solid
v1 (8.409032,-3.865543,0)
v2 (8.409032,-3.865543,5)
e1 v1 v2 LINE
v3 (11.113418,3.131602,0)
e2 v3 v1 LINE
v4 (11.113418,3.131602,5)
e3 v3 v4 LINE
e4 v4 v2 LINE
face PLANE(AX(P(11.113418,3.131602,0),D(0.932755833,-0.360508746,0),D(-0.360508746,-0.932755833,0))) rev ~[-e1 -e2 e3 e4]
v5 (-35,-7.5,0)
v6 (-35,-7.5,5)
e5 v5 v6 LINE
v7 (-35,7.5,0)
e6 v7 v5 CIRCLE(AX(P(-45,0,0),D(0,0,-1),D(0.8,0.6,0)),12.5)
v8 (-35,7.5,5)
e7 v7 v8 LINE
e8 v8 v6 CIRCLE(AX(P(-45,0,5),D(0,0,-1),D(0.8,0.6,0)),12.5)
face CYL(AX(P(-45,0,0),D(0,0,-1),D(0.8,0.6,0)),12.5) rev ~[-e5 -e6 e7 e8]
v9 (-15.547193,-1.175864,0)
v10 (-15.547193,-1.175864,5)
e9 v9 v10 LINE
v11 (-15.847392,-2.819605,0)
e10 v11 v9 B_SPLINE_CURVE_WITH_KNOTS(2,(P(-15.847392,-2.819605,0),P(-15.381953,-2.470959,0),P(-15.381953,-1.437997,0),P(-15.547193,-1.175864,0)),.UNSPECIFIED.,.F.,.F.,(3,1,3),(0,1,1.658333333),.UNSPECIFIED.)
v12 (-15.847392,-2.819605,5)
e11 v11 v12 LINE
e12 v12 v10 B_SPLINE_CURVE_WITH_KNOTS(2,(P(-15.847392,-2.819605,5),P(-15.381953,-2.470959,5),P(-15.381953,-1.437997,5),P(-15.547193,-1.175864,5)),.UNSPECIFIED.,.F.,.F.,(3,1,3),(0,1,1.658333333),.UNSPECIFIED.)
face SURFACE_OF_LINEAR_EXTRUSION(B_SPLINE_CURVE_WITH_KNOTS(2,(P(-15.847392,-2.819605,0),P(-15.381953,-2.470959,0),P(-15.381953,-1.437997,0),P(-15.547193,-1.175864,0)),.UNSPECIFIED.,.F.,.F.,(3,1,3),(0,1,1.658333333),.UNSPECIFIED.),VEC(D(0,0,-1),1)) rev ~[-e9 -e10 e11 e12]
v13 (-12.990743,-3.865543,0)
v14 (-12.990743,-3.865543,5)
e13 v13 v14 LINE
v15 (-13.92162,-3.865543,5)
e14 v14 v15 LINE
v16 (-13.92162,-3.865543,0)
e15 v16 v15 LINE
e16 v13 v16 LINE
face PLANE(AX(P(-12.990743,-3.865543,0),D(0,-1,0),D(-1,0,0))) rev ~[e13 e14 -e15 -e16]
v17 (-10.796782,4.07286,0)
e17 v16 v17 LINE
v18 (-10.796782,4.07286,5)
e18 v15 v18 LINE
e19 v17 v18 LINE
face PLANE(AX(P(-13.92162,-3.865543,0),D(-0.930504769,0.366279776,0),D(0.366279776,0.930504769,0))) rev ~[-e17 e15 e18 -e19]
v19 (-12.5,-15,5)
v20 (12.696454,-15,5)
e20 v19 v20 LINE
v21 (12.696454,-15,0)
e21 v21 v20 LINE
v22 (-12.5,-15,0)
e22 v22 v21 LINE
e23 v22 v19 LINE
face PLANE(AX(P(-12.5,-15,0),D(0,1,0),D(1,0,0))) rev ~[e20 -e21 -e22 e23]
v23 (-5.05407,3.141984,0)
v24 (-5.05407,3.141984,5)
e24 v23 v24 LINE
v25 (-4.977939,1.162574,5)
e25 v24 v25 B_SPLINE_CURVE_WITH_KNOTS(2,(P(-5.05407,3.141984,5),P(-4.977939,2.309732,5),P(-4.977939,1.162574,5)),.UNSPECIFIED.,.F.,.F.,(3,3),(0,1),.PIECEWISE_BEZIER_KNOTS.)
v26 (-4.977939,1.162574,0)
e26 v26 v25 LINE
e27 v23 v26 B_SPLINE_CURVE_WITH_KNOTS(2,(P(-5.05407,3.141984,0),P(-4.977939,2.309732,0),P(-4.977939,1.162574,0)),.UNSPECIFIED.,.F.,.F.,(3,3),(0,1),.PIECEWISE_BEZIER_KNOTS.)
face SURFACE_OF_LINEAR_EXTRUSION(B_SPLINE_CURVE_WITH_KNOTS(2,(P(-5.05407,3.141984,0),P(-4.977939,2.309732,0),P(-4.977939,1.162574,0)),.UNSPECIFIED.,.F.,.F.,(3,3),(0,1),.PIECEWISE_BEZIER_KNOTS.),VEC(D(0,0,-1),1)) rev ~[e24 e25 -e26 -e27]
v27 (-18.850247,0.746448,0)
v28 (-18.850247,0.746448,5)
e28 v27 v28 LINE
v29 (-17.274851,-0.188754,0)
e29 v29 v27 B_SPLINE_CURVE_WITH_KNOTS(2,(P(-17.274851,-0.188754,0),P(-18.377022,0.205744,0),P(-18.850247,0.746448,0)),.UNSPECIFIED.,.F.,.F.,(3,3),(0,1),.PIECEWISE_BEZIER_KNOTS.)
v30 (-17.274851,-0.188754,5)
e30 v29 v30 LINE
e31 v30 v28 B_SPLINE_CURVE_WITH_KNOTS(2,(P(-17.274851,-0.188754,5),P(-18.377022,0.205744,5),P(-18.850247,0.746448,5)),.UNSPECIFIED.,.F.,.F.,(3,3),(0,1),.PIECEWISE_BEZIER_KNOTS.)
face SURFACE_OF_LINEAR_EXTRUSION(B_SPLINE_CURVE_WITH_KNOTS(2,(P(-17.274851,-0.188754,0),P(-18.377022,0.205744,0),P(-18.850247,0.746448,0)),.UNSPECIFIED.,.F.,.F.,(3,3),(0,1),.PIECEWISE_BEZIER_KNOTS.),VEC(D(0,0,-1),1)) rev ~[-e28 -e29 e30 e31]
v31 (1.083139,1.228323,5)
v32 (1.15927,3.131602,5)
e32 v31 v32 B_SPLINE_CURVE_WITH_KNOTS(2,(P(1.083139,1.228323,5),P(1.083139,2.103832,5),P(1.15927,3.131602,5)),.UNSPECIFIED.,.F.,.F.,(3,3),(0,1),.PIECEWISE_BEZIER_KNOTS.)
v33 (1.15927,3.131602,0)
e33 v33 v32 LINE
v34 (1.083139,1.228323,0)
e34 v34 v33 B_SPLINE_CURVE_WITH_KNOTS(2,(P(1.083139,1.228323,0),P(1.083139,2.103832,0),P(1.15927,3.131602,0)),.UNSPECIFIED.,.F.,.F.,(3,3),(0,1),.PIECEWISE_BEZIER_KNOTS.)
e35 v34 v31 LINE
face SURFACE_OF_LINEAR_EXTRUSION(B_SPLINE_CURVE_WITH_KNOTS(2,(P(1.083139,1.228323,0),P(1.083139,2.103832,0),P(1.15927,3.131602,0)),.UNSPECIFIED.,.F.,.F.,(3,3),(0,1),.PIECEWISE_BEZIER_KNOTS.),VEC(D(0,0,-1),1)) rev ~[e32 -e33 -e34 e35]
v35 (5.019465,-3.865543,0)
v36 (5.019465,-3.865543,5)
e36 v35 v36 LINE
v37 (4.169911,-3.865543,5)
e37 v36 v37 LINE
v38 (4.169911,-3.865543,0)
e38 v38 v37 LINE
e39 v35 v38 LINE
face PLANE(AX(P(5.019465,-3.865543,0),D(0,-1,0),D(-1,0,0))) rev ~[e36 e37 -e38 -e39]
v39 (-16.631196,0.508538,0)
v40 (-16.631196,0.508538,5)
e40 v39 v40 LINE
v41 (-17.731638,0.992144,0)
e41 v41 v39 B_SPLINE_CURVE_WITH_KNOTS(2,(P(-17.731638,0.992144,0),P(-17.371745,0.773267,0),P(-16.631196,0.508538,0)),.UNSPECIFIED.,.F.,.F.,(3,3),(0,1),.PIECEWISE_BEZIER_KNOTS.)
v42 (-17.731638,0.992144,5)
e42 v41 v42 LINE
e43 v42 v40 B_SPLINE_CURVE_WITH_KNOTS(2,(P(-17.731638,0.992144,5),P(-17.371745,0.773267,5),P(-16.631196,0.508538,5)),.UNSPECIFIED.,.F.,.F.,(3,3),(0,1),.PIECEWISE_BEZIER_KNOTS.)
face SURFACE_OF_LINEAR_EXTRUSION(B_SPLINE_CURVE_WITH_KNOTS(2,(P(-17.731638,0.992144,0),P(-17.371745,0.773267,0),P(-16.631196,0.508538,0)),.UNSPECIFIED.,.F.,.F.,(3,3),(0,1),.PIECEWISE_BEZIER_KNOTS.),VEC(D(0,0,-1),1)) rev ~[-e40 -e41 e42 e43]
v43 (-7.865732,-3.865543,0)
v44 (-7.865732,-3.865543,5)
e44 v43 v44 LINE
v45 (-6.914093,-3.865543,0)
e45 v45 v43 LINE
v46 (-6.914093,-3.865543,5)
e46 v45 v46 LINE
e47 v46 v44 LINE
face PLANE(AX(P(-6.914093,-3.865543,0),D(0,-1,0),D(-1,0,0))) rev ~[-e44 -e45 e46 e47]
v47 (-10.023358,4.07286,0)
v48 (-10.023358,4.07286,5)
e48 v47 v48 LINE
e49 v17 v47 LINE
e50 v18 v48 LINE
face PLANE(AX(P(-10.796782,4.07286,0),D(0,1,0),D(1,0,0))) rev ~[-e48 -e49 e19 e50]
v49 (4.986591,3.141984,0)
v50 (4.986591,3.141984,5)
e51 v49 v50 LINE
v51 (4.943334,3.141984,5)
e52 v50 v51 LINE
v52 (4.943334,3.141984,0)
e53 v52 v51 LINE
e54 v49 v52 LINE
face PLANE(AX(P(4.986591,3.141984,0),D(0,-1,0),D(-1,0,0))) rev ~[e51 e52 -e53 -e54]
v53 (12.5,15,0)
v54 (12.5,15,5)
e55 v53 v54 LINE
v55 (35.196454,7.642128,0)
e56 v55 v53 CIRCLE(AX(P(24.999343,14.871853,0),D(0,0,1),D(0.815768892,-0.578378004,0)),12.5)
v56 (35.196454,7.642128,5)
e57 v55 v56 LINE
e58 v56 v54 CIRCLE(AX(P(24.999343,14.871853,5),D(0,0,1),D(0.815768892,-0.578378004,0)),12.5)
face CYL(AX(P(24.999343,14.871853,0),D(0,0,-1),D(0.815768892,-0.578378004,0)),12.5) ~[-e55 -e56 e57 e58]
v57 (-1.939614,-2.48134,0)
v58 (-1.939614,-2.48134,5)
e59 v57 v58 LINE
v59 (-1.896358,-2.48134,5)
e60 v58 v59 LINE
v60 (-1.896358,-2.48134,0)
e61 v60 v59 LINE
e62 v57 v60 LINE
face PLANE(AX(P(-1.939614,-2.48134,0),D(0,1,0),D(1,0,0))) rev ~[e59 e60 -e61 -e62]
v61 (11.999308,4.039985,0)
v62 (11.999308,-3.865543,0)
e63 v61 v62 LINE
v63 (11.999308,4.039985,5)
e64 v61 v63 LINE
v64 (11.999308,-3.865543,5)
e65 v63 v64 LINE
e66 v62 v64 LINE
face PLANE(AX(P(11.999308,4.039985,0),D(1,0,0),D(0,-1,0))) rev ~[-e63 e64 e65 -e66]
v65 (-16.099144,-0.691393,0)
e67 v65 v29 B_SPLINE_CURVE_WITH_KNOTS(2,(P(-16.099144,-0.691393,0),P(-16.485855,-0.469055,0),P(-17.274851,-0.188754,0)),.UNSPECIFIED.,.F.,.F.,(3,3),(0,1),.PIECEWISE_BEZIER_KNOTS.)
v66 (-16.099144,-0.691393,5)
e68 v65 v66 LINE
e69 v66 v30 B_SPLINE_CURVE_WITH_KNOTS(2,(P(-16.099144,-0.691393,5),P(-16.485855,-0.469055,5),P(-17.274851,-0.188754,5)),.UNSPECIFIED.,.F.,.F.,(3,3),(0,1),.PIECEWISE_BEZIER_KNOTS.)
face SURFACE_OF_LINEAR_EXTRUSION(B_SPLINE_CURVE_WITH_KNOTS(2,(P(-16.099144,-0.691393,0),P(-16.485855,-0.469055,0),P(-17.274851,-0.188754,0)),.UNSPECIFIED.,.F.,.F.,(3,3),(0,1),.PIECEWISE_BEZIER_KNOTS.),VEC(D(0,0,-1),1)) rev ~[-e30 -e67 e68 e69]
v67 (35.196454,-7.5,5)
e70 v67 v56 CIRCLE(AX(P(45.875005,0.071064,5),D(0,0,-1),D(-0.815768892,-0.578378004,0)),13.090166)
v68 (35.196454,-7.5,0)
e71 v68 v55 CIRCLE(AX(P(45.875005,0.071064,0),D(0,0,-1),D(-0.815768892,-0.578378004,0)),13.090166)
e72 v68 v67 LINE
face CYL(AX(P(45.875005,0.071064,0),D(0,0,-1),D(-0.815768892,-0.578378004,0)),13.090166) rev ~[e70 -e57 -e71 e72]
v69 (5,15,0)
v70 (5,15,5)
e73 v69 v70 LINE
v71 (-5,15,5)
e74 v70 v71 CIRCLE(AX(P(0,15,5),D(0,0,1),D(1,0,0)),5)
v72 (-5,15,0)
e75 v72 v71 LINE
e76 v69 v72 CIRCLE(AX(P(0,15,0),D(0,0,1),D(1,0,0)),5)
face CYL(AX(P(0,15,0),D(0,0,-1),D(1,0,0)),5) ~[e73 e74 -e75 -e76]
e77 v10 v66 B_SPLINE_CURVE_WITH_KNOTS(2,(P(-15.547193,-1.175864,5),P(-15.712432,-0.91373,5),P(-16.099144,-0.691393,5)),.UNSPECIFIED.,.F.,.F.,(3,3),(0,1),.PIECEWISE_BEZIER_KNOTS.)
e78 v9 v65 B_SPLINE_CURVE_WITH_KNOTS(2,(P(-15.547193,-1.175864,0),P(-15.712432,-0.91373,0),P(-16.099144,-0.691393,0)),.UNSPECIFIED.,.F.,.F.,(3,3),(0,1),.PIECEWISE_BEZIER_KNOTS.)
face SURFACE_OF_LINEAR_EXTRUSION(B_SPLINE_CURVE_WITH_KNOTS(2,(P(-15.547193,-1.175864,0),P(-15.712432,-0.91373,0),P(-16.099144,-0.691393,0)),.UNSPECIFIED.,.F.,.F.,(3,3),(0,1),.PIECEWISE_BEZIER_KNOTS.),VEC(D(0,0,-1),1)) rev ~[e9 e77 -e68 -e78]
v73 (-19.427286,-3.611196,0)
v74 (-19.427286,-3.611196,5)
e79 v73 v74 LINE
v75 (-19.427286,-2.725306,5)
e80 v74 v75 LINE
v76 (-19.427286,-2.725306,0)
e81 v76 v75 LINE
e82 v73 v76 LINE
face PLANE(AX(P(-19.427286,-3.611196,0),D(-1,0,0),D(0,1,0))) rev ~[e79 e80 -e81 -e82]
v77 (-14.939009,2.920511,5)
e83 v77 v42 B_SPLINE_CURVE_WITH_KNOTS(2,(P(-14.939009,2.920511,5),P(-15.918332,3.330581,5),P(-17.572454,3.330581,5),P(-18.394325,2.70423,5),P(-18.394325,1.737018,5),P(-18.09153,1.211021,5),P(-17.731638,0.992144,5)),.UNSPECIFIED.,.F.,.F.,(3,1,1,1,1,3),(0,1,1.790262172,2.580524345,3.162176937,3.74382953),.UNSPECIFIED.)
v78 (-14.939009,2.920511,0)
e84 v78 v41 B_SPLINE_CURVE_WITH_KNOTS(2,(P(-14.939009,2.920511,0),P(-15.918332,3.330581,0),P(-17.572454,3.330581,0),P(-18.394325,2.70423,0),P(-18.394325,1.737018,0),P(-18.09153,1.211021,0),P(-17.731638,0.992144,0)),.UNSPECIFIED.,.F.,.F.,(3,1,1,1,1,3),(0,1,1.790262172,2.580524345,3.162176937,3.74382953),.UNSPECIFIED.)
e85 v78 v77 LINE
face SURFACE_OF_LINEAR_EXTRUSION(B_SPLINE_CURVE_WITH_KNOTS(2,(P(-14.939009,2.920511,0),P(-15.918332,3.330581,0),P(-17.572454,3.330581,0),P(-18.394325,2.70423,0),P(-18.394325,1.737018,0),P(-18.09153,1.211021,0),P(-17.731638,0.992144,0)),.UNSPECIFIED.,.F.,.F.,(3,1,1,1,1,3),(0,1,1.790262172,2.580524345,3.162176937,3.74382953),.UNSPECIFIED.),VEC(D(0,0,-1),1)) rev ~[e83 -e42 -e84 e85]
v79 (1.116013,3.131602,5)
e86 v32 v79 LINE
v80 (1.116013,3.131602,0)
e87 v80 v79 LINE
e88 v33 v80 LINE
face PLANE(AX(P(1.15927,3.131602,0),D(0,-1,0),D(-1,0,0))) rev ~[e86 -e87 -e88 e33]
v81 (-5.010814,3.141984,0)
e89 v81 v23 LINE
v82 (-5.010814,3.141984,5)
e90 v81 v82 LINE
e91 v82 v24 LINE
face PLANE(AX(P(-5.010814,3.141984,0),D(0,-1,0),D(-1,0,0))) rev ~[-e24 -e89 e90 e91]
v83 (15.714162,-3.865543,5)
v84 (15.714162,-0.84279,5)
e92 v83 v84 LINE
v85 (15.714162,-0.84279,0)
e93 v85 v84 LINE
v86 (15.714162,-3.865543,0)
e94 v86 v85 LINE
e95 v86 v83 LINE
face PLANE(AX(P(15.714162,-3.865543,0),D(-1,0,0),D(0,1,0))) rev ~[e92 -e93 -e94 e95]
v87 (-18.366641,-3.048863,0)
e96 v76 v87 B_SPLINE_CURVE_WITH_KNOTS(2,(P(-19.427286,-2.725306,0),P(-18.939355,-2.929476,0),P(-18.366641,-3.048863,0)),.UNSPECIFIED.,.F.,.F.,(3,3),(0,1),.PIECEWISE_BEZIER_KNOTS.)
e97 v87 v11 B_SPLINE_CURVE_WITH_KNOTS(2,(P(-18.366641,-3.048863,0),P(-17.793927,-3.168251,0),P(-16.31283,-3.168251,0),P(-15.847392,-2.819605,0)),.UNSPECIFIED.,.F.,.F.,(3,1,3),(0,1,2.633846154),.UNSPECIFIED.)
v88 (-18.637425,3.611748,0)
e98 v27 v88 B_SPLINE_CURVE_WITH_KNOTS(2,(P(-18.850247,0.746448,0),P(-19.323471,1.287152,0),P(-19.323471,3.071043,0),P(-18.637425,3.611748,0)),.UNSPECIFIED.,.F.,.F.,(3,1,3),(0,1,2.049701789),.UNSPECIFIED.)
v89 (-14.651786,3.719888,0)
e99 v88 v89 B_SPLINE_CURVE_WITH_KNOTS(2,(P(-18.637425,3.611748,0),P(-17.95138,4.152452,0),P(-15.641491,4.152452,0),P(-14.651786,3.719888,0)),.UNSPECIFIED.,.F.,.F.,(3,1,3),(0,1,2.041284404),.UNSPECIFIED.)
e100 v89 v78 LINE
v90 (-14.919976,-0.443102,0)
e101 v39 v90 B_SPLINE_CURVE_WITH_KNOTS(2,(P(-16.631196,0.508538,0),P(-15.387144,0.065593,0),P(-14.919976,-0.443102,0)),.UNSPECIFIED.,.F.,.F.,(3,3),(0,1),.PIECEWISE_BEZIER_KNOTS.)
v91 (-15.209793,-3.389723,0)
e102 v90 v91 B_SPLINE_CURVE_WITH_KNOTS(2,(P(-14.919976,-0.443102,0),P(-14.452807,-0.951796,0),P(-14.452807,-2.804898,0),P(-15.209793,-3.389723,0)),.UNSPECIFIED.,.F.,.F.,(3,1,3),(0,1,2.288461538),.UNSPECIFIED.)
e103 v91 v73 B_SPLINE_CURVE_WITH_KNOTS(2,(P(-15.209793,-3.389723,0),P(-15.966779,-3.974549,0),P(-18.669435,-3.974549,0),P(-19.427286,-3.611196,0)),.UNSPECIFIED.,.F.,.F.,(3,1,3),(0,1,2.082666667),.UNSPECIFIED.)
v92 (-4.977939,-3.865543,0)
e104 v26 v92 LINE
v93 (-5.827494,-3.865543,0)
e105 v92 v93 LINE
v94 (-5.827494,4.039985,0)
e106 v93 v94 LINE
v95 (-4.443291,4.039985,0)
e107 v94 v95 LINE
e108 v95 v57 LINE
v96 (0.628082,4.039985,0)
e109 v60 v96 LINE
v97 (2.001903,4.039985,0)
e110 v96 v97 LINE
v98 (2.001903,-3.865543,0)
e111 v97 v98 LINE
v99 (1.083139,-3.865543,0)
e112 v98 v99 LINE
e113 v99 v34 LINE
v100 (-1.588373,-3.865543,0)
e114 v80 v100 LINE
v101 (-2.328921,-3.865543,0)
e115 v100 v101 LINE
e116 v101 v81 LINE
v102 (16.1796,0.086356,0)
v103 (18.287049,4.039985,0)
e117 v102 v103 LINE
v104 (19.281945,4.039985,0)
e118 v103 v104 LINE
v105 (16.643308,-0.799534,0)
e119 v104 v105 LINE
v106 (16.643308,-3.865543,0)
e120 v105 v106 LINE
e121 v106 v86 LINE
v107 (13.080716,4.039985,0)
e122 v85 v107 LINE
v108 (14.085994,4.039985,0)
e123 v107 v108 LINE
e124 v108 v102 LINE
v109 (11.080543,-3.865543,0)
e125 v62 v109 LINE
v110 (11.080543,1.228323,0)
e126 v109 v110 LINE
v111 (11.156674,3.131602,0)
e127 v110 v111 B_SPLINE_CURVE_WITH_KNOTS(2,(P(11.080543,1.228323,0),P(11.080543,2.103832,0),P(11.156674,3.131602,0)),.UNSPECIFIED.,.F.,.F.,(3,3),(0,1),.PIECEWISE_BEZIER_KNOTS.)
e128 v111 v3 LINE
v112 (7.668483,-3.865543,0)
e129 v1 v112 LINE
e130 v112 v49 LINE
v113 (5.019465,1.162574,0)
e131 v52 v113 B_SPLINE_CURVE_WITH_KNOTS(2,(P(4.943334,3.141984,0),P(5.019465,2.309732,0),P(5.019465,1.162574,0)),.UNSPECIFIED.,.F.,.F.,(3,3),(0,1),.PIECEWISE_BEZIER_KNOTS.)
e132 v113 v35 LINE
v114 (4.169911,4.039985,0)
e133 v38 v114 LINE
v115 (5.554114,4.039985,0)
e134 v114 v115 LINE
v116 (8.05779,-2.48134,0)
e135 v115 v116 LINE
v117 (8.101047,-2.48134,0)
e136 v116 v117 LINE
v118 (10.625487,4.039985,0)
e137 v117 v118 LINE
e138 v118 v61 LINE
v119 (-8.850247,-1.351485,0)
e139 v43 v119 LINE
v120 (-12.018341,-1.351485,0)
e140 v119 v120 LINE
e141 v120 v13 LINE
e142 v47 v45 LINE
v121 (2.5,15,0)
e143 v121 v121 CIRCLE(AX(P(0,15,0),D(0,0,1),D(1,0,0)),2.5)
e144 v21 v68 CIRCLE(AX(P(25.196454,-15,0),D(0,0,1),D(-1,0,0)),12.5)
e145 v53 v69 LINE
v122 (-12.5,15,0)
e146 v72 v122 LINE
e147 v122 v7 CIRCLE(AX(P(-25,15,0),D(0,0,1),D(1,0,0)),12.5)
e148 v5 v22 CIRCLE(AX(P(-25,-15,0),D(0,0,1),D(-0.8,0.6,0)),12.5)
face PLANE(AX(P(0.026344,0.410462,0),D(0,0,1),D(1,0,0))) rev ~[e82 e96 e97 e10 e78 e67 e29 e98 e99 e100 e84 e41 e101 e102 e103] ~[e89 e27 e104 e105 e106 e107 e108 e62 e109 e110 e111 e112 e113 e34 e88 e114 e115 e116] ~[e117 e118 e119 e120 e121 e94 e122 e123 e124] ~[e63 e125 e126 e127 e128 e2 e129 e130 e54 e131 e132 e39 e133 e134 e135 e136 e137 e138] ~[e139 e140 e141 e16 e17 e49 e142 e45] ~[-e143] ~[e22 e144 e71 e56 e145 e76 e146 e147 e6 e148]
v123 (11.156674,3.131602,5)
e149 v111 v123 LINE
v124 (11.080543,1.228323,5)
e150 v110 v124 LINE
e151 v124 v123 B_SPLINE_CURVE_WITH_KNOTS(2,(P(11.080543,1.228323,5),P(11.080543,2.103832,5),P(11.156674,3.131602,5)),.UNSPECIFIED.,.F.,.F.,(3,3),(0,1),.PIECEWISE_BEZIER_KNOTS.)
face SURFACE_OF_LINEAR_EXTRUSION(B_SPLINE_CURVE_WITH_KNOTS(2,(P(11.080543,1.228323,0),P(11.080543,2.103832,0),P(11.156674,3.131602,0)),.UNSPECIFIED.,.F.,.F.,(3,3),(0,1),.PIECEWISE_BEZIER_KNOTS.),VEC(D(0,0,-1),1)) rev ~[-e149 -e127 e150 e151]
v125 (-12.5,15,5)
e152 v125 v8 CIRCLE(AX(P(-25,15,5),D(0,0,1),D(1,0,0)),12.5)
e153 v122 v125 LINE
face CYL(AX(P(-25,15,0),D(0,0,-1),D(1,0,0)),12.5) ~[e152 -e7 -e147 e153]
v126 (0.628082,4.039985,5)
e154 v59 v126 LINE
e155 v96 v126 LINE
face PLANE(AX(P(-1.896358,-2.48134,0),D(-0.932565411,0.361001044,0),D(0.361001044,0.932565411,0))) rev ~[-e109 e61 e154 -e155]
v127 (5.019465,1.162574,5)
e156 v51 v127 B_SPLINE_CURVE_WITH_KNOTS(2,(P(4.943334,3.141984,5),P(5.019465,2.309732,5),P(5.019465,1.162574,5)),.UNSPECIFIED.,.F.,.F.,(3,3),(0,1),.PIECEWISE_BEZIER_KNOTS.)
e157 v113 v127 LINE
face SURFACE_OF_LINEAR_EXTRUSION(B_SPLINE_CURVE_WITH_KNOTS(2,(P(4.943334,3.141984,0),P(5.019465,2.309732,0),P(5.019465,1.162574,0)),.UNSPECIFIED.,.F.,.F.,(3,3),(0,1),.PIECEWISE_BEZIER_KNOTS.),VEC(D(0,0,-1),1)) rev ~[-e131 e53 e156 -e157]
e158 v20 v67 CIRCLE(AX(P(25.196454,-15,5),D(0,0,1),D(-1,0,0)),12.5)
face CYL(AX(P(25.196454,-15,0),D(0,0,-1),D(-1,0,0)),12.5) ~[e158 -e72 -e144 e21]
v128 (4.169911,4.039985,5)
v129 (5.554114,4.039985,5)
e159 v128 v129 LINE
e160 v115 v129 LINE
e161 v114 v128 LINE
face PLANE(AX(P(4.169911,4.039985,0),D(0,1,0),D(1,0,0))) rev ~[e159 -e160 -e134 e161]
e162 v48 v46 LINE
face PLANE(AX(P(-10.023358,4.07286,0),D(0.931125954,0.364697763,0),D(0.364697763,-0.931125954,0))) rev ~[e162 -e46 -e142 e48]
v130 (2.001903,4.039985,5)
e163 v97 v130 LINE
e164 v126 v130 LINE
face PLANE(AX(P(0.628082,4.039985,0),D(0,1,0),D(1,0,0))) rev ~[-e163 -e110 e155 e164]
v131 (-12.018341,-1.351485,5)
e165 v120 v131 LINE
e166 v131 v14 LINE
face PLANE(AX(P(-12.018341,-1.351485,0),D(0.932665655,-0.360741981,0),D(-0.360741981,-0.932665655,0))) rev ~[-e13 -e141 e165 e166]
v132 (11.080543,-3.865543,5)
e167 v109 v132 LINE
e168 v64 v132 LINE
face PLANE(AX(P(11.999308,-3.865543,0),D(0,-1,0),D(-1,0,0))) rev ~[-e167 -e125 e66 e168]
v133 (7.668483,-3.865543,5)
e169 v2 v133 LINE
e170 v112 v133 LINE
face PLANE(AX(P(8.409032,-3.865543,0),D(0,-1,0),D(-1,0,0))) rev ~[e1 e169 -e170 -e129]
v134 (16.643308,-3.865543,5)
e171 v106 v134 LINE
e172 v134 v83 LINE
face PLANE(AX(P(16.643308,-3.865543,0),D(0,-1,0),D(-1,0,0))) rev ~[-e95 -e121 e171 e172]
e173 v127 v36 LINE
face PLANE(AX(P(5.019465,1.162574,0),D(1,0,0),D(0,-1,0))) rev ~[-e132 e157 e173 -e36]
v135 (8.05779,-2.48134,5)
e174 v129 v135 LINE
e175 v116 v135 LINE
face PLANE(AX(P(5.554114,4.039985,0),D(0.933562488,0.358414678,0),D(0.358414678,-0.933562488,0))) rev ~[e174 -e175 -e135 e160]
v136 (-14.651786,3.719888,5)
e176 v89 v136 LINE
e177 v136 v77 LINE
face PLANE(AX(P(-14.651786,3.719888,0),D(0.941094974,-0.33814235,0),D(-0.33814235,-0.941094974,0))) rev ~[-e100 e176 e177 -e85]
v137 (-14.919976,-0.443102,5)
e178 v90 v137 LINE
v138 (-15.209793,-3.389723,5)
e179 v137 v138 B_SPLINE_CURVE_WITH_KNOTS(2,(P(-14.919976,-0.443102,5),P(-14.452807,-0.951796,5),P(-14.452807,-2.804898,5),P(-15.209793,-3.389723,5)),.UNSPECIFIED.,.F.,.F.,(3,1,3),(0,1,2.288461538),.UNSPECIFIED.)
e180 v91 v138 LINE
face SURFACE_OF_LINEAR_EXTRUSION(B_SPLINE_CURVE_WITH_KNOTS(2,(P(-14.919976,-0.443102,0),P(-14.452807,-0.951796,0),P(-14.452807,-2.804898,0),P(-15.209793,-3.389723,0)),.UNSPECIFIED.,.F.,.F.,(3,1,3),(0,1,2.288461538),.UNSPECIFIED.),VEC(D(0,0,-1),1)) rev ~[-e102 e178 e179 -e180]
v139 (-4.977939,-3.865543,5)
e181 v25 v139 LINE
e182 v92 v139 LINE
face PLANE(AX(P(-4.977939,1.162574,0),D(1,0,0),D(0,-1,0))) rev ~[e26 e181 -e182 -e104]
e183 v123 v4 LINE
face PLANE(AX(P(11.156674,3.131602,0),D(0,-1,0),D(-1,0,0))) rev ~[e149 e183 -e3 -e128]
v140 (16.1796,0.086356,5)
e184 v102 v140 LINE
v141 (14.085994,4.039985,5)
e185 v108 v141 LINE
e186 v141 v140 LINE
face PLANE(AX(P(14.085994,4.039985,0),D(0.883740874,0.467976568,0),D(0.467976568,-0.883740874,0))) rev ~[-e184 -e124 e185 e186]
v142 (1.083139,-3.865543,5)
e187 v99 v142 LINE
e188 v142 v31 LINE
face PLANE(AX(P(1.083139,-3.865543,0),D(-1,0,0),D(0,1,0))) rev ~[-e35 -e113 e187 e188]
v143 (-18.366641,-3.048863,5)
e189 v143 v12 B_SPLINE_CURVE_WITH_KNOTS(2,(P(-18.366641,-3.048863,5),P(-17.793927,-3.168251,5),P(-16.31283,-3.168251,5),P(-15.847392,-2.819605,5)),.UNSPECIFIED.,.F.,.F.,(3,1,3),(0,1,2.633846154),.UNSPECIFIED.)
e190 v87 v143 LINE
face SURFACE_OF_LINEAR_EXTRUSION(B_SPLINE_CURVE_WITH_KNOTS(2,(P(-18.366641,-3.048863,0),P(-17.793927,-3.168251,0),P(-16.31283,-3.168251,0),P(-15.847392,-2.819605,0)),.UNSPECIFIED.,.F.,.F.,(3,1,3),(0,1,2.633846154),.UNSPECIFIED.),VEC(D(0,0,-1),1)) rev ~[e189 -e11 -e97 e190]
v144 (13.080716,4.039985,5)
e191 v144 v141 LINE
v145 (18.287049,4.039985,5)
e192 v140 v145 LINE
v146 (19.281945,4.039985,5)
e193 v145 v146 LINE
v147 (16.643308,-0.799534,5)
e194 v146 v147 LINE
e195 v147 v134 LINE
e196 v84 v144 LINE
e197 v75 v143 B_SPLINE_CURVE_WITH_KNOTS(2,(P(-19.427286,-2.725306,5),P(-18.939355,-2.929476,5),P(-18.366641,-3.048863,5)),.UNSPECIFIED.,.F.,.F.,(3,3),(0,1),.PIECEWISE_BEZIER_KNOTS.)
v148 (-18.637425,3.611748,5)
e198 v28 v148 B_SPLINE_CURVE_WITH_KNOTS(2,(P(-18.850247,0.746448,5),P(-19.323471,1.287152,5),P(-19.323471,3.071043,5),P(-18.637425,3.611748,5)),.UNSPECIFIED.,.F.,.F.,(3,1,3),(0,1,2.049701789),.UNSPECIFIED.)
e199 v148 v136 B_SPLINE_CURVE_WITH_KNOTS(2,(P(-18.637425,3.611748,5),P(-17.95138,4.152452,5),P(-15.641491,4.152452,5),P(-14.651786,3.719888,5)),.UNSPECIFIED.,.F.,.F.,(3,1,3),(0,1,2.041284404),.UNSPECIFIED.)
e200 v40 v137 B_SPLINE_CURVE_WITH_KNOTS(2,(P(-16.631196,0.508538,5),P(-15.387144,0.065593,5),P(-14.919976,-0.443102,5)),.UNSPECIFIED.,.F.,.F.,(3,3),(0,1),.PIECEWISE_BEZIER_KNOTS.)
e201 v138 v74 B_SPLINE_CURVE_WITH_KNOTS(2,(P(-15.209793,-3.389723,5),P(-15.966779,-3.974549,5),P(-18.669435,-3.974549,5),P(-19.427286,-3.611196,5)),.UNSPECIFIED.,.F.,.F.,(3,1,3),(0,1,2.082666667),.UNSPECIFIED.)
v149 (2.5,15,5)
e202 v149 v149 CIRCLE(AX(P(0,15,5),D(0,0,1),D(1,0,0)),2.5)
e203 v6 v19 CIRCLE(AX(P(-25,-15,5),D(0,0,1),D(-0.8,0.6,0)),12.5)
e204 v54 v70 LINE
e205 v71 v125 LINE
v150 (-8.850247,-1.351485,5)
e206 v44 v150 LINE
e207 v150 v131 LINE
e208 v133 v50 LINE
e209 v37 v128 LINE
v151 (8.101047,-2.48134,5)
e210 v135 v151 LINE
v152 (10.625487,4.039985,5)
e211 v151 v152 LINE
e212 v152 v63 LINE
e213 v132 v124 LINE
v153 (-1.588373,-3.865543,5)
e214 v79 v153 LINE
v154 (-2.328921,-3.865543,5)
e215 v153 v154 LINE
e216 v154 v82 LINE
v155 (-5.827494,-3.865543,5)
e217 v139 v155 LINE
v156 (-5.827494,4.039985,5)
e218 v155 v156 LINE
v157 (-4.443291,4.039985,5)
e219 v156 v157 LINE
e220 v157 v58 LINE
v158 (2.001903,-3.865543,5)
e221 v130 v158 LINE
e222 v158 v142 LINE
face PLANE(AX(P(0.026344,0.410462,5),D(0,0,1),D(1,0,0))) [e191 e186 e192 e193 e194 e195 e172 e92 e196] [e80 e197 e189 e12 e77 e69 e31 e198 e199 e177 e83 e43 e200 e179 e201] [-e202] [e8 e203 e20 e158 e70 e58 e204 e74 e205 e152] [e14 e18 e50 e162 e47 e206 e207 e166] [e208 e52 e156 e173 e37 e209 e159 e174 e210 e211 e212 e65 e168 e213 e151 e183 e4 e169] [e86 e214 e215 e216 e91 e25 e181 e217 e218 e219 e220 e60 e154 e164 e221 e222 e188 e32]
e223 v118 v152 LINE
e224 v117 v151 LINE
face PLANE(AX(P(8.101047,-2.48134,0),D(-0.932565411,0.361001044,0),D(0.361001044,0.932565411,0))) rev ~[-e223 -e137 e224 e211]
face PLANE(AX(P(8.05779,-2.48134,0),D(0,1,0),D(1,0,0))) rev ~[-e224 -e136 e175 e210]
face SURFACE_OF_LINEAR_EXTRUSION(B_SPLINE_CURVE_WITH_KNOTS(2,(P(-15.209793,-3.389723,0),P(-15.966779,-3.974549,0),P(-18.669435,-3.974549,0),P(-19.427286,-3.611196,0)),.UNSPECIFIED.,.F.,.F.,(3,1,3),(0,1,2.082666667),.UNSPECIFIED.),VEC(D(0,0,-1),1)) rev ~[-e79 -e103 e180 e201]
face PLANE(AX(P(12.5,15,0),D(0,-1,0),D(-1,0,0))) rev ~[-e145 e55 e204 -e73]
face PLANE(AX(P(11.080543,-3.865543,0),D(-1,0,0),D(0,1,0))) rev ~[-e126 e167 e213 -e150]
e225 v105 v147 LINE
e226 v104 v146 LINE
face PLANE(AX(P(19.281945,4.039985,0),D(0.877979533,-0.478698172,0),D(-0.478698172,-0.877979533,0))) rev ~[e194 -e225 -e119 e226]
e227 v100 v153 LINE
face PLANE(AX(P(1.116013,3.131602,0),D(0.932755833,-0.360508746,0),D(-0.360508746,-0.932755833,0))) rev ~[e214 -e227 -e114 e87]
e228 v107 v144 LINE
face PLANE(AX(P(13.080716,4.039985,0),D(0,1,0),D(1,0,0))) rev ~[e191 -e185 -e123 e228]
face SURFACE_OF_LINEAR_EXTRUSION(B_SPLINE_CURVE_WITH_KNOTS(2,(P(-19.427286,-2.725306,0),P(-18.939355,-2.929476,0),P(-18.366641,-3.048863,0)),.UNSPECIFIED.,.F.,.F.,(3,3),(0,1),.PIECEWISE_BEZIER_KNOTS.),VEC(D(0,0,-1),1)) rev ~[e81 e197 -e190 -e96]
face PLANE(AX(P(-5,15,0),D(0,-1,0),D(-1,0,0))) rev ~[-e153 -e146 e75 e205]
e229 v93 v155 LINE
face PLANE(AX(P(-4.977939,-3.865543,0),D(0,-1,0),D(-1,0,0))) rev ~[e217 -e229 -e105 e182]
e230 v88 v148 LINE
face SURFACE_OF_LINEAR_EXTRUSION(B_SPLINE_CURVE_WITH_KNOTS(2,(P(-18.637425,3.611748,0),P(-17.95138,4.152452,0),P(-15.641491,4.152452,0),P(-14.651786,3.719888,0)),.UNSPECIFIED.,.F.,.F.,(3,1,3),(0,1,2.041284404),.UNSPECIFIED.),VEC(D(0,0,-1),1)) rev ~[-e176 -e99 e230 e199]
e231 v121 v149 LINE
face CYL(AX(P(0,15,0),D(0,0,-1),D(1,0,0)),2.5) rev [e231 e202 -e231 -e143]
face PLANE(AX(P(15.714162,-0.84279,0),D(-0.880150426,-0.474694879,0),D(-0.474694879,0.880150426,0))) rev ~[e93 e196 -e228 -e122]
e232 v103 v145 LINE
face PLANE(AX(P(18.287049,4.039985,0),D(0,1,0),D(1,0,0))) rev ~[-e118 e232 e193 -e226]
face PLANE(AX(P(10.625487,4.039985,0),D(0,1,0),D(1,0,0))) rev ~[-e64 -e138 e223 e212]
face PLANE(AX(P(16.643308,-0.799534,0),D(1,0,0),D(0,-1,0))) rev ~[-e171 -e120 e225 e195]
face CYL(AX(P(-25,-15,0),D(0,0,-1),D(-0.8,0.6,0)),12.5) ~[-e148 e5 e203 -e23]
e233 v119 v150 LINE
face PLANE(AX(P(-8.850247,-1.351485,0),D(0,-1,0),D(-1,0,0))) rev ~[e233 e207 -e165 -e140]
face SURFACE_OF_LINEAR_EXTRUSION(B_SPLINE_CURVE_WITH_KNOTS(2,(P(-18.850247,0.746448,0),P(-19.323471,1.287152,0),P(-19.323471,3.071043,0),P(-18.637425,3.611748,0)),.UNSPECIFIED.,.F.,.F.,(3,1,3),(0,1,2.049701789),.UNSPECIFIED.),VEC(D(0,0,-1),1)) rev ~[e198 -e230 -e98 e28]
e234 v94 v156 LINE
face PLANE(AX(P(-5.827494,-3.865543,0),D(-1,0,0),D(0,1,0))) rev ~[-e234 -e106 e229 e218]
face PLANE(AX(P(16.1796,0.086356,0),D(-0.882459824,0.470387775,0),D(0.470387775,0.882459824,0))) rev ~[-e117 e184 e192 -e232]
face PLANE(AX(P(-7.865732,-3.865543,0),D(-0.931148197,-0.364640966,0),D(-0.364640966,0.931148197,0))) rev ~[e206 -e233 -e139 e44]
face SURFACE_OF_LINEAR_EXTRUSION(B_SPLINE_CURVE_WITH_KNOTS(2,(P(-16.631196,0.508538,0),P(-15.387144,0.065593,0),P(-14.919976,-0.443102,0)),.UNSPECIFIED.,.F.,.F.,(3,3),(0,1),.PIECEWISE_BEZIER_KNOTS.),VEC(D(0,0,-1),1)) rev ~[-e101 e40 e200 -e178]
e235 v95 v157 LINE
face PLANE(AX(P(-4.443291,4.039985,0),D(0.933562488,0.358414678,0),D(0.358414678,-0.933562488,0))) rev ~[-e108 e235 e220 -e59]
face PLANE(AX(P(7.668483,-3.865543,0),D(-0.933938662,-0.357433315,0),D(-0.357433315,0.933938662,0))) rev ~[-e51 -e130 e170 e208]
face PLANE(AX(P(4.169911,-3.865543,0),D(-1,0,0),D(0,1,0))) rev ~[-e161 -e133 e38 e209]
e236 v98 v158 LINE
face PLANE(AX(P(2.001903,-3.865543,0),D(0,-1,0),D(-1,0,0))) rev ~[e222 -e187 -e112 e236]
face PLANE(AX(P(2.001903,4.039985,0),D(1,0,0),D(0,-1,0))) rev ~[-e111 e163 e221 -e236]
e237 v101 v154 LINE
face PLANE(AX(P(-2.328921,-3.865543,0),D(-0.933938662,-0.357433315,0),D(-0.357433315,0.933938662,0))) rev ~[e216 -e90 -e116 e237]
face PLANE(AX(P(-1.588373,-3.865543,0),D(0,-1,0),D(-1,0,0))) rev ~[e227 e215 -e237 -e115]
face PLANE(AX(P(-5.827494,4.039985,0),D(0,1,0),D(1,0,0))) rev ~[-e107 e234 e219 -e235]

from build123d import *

# Parameters (mm, degrees)
F0_R     = 2.5
F1_DEPTH = 5


with BuildPart() as f1:
    # F0 (on Top) → F1 (new body)
    with BuildSketch(Plane.XY):
        with BuildLine():
            Line((-5, 15), (-12.5, 15))
            ThreePointArc((-12.5, 15), (-28.9528470752, 26.8585412256), (-35, 7.5))
            ThreePointArc((-35, 7.5), (-32.5, 0), (-35, -7.5))
            ThreePointArc((-35, -7.5), (-28.9528470752, -26.8585412256), (-12.5, -15))
            Line((-12.5, -15), (12.6964542654, -15))
            ThreePointArc((12.6964542654, -15), (29.1493013406, -26.8585412256), (35.1964542654, -7.5))
            ThreePointArc((35.1964542654, -7.5), (32.784838444, 0.0710641767), (35.1964542654, 7.6421283534))
            ThreePointArc((35.1964542654, 7.6421283534), (28.8541630659, 26.7626213853), (12.5, 15))
            Line((12.5, 15), (5, 15))
            ThreePointArc((5, 15), (0, 20), (-5, 15))
        make_face()
        with BuildLine():
            add(Edge.make_bspline(
                [(-14.9199757765, -0.4431015054), (-14.4528073363, -0.9517960291), (-14.4528073363, -1.7615546588)],
                knots=[0, 0, 0, 1, 1, 1], degree=2))
            add(Edge.make_bspline(
                [(-14.4528073363, -1.7615546588), (-14.4528073363, -2.8048975085), (-15.2097932347, -3.3897231855)],
                knots=[0, 0, 0, 1, 1, 1], degree=2))
            add(Edge.make_bspline(
                [(-15.2097932347, -3.3897231855), (-15.9667791331, -3.9745488624), (-17.2644692447, -3.9745488624)],
                knots=[0, 0, 0, 1, 1, 1], degree=2))
            add(Edge.make_bspline(
                [(-17.2644692447, -3.9745488624), (-18.6694350722, -3.9745488624), (-19.4272860974, -3.6111956312)],
                knots=[0, 0, 0, 1, 1, 1], degree=2))
            Line((-19.4272860974, -3.6111956312), (-19.4272860974, -2.7253058483))
            add(Edge.make_bspline(
                [(-19.4272860974, -2.7253058483), (-18.9393546155, -2.9294757592), (-18.3666407129, -3.0488632495)],
                knots=[0, 0, 0, 1, 1, 1], degree=2))
            add(Edge.make_bspline(
                [(-18.3666407129, -3.0488632495), (-17.7939268103, -3.1682507397), (-17.2315944286, -3.1682507397)],
                knots=[0, 0, 0, 1, 1, 1], degree=2))
            add(Edge.make_bspline(
                [(-17.2315944286, -3.1682507397), (-16.3128298296, -3.1682507397), (-15.8473916429, -2.8196046631)],
                knots=[0, 0, 0, 1, 1, 1], degree=2))
            add(Edge.make_bspline(
                [(-15.8473916429, -2.8196046631), (-15.3819534562, -2.4709585864), (-15.3819534562, -1.8480673329)],
                knots=[0, 0, 0, 1, 1, 1], degree=2))
            add(Edge.make_bspline(
                [(-15.3819534562, -1.8480673329), (-15.3819534562, -1.4379972576), (-15.5471926637, -1.1758638551)],
                knots=[0, 0, 0, 1, 1, 1], degree=2))
            add(Edge.make_bspline(
                [(-15.5471926637, -1.1758638551), (-15.7124318713, -0.9137304525), (-16.0991435245, -0.6913928801)],
                knots=[0, 0, 0, 1, 1, 1], degree=2))
            add(Edge.make_bspline(
                [(-16.0991435245, -0.6913928801), (-16.4858551778, -0.4690553076), (-17.2748507656, -0.1887542435)],
                knots=[0, 0, 0, 1, 1, 1], degree=2))
            add(Edge.make_bspline(
                [(-17.2748507656, -0.1887542435), (-18.3770222338, 0.2057435504), (-18.8502465611, 0.7464477636)],
                knots=[0, 0, 0, 1, 1, 1], degree=2))
            add(Edge.make_bspline(
                [(-18.8502465611, 0.7464477636), (-19.3234708885, 1.2871519767), (-19.3234708885, 2.1574694783)],
                knots=[0, 0, 0, 1, 1, 1], degree=2))
            add(Edge.make_bspline(
                [(-19.3234708885, 2.1574694783), (-19.3234708885, 3.0710433168), (-18.6374253828, 3.61174753)],
                knots=[0, 0, 0, 1, 1, 1], degree=2))
            add(Edge.make_bspline(
                [(-18.6374253828, 3.61174753), (-17.9513798772, 4.1524517432), (-16.8197940998, 4.1524517432)],
                knots=[0, 0, 0, 1, 1, 1], degree=2))
            add(Edge.make_bspline(
                [(-16.8197940998, 4.1524517432), (-15.6414914785, 4.1524517432), (-14.6517864867, 3.7198883726)],
                knots=[0, 0, 0, 1, 1, 1], degree=2))
            Line((-14.6517864867, 3.7198883726), (-14.9390085648, 2.9205112639))
            add(Edge.make_bspline(
                [(-14.9390085648, 2.9205112639), (-15.9183320356, 3.3305813392), (-16.8422873951, 3.3305813392)],
                knots=[0, 0, 0, 1, 1, 1], degree=2))
            add(Edge.make_bspline(
                [(-16.8422873951, 3.3305813392), (-17.5724543646, 3.3305813392), (-17.9833895666, 3.0174054589)],
                knots=[0, 0, 0, 1, 1, 1], degree=2))
            add(Edge.make_bspline(
                [(-17.9833895666, 3.0174054589), (-18.3943247686, 2.7042295786), (-18.3943247686, 2.1470879574)],
                knots=[0, 0, 0, 1, 1, 1], degree=2))
            add(Edge.make_bspline(
                [(-18.3943247686, 2.1470879574), (-18.3943247686, 1.7370178821), (-18.2429275889, 1.4740193528)],
                knots=[0, 0, 0, 1, 1, 1], degree=2))
            add(Edge.make_bspline(
                [(-18.2429275889, 1.4740193528), (-18.0915304092, 1.2110208235), (-17.7316376849, 0.992143758)],
                knots=[0, 0, 0, 1, 1, 1], degree=2))
            add(Edge.make_bspline(
                [(-17.7316376849, 0.992143758), (-17.3717449606, 0.7732666926), (-16.6311964703, 0.5085379098)],
                knots=[0, 0, 0, 1, 1, 1], degree=2))
            add(Edge.make_bspline(
                [(-16.6311964703, 0.5085379098), (-15.3871442166, 0.0655930184), (-14.9199757765, -0.4431015054)],
                knots=[0, 0, 0, 1, 1, 1], degree=2))
        make_face(mode=Mode.SUBTRACT)
        Polygon((-6.9140929146, -3.865542893), (-7.8657323298, -3.865542893), (-8.8502465611, -1.3514845835), (-12.0183406869, -1.3514845835), (-12.9907431439, -3.865542893), (-13.9216195173, -3.865542893), (-10.7967817285, 4.072860083), (-10.023358422, 4.072860083), align=None, mode=Mode.SUBTRACT)
        with BuildLine():
            Line((-1.5883726966, -3.865542893), (-2.328921187, -3.865542893))
            Line((-2.328921187, -3.865542893), (-5.0108140843, 3.1419837096))
            Line((-5.0108140843, 3.1419837096), (-5.0540704213, 3.1419837096))
            add(Edge.make_bspline(
                [(-5.0540704213, 3.1419837096), (-4.9779392681, 2.3097317847), (-4.9779392681, 1.162573726)],
                knots=[0, 0, 0, 1, 1, 1], degree=2))
            Line((-4.9779392681, 1.162573726), (-4.9779392681, -3.865542893))
            Line((-4.9779392681, -3.865542893), (-5.8274937278, -3.865542893))
            Line((-5.8274937278, -3.865542893), (-5.8274937278, 4.0399852668))
            Line((-5.8274937278, 4.0399852668), (-4.4432909421, 4.0399852668))
            Line((-4.4432909421, 4.0399852668), (-1.9396141535, -2.4813401073))
            Line((-1.9396141535, -2.4813401073), (-1.8963578164, -2.4813401073))
            Line((-1.8963578164, -2.4813401073), (0.628082014, 4.0399852668))
            Line((0.628082014, 4.0399852668), (2.0019032788, 4.0399852668))
            Line((2.0019032788, 4.0399852668), (2.0019032788, -3.865542893))
            Line((2.0019032788, -3.865542893), (1.0831386798, -3.865542893))
            Line((1.0831386798, -3.865542893), (1.0831386798, 1.2283233584))
            add(Edge.make_bspline(
                [(1.0831386798, 1.2283233584), (1.0831386798, 2.1038316203), (1.159269833, 3.1316021887)],
                knots=[0, 0, 0, 1, 1, 1], degree=2))
            Line((1.159269833, 3.1316021887), (1.116013496, 3.1316021887))
            Line((1.116013496, 3.1316021887), (-1.5883726966, -3.865542893))
        make_face(mode=Mode.SUBTRACT)
        with Locations((0, 15)):
            Circle(F0_R, mode=Mode.SUBTRACT)
        with BuildLine():
            Line((8.4090319232, -3.865542893), (7.6684834328, -3.865542893))
            Line((7.6684834328, -3.865542893), (4.9865905355, 3.1419837096))
            Line((4.9865905355, 3.1419837096), (4.9433341985, 3.1419837096))
            add(Edge.make_bspline(
                [(4.9433341985, 3.1419837096), (5.0194653517, 2.3097317847), (5.0194653517, 1.162573726)],
                knots=[0, 0, 0, 1, 1, 1], degree=2))
            Line((5.0194653517, 1.162573726), (5.0194653517, -3.865542893))
            Line((5.0194653517, -3.865542893), (4.1699108919, -3.865542893))
            Line((4.1699108919, -3.865542893), (4.1699108919, 4.0399852668))
            Line((4.1699108919, 4.0399852668), (5.5541136777, 4.0399852668))
            Line((5.5541136777, 4.0399852668), (8.0577904663, -2.4813401073))
            Line((8.0577904663, -2.4813401073), (8.1010468034, -2.4813401073))
            Line((8.1010468034, -2.4813401073), (10.6254866338, 4.0399852668))
            Line((10.6254866338, 4.0399852668), (11.9993078986, 4.0399852668))
            Line((11.9993078986, 4.0399852668), (11.9993078986, -3.865542893))
            Line((11.9993078986, -3.865542893), (11.0805432996, -3.865542893))
            Line((11.0805432996, -3.865542893), (11.0805432996, 1.2283233584))
            add(Edge.make_bspline(
                [(11.0805432996, 1.2283233584), (11.0805432996, 2.1038316203), (11.1566744528, 3.1316021887)],
                knots=[0, 0, 0, 1, 1, 1], degree=2))
            Line((11.1566744528, 3.1316021887), (11.1134181158, 3.1316021887))
            Line((11.1134181158, 3.1316021887), (8.4090319232, -3.865542893))
        make_face(mode=Mode.SUBTRACT)
        Polygon((14.0859935981, 4.0399852668), (16.1796003114, 0.0863560601), (18.2870490527, 4.0399852668), (19.2819448049, 4.0399852668), (16.6433082447, -0.7995337227), (16.6433082447, -3.865542893), (15.7141621248, -3.865542893), (15.7141621248, -0.8427900598), (13.0807163249, 4.0399852668), align=None, mode=Mode.SUBTRACT)
    extrude(amount=F1_DEPTH)


solid = f1.part
